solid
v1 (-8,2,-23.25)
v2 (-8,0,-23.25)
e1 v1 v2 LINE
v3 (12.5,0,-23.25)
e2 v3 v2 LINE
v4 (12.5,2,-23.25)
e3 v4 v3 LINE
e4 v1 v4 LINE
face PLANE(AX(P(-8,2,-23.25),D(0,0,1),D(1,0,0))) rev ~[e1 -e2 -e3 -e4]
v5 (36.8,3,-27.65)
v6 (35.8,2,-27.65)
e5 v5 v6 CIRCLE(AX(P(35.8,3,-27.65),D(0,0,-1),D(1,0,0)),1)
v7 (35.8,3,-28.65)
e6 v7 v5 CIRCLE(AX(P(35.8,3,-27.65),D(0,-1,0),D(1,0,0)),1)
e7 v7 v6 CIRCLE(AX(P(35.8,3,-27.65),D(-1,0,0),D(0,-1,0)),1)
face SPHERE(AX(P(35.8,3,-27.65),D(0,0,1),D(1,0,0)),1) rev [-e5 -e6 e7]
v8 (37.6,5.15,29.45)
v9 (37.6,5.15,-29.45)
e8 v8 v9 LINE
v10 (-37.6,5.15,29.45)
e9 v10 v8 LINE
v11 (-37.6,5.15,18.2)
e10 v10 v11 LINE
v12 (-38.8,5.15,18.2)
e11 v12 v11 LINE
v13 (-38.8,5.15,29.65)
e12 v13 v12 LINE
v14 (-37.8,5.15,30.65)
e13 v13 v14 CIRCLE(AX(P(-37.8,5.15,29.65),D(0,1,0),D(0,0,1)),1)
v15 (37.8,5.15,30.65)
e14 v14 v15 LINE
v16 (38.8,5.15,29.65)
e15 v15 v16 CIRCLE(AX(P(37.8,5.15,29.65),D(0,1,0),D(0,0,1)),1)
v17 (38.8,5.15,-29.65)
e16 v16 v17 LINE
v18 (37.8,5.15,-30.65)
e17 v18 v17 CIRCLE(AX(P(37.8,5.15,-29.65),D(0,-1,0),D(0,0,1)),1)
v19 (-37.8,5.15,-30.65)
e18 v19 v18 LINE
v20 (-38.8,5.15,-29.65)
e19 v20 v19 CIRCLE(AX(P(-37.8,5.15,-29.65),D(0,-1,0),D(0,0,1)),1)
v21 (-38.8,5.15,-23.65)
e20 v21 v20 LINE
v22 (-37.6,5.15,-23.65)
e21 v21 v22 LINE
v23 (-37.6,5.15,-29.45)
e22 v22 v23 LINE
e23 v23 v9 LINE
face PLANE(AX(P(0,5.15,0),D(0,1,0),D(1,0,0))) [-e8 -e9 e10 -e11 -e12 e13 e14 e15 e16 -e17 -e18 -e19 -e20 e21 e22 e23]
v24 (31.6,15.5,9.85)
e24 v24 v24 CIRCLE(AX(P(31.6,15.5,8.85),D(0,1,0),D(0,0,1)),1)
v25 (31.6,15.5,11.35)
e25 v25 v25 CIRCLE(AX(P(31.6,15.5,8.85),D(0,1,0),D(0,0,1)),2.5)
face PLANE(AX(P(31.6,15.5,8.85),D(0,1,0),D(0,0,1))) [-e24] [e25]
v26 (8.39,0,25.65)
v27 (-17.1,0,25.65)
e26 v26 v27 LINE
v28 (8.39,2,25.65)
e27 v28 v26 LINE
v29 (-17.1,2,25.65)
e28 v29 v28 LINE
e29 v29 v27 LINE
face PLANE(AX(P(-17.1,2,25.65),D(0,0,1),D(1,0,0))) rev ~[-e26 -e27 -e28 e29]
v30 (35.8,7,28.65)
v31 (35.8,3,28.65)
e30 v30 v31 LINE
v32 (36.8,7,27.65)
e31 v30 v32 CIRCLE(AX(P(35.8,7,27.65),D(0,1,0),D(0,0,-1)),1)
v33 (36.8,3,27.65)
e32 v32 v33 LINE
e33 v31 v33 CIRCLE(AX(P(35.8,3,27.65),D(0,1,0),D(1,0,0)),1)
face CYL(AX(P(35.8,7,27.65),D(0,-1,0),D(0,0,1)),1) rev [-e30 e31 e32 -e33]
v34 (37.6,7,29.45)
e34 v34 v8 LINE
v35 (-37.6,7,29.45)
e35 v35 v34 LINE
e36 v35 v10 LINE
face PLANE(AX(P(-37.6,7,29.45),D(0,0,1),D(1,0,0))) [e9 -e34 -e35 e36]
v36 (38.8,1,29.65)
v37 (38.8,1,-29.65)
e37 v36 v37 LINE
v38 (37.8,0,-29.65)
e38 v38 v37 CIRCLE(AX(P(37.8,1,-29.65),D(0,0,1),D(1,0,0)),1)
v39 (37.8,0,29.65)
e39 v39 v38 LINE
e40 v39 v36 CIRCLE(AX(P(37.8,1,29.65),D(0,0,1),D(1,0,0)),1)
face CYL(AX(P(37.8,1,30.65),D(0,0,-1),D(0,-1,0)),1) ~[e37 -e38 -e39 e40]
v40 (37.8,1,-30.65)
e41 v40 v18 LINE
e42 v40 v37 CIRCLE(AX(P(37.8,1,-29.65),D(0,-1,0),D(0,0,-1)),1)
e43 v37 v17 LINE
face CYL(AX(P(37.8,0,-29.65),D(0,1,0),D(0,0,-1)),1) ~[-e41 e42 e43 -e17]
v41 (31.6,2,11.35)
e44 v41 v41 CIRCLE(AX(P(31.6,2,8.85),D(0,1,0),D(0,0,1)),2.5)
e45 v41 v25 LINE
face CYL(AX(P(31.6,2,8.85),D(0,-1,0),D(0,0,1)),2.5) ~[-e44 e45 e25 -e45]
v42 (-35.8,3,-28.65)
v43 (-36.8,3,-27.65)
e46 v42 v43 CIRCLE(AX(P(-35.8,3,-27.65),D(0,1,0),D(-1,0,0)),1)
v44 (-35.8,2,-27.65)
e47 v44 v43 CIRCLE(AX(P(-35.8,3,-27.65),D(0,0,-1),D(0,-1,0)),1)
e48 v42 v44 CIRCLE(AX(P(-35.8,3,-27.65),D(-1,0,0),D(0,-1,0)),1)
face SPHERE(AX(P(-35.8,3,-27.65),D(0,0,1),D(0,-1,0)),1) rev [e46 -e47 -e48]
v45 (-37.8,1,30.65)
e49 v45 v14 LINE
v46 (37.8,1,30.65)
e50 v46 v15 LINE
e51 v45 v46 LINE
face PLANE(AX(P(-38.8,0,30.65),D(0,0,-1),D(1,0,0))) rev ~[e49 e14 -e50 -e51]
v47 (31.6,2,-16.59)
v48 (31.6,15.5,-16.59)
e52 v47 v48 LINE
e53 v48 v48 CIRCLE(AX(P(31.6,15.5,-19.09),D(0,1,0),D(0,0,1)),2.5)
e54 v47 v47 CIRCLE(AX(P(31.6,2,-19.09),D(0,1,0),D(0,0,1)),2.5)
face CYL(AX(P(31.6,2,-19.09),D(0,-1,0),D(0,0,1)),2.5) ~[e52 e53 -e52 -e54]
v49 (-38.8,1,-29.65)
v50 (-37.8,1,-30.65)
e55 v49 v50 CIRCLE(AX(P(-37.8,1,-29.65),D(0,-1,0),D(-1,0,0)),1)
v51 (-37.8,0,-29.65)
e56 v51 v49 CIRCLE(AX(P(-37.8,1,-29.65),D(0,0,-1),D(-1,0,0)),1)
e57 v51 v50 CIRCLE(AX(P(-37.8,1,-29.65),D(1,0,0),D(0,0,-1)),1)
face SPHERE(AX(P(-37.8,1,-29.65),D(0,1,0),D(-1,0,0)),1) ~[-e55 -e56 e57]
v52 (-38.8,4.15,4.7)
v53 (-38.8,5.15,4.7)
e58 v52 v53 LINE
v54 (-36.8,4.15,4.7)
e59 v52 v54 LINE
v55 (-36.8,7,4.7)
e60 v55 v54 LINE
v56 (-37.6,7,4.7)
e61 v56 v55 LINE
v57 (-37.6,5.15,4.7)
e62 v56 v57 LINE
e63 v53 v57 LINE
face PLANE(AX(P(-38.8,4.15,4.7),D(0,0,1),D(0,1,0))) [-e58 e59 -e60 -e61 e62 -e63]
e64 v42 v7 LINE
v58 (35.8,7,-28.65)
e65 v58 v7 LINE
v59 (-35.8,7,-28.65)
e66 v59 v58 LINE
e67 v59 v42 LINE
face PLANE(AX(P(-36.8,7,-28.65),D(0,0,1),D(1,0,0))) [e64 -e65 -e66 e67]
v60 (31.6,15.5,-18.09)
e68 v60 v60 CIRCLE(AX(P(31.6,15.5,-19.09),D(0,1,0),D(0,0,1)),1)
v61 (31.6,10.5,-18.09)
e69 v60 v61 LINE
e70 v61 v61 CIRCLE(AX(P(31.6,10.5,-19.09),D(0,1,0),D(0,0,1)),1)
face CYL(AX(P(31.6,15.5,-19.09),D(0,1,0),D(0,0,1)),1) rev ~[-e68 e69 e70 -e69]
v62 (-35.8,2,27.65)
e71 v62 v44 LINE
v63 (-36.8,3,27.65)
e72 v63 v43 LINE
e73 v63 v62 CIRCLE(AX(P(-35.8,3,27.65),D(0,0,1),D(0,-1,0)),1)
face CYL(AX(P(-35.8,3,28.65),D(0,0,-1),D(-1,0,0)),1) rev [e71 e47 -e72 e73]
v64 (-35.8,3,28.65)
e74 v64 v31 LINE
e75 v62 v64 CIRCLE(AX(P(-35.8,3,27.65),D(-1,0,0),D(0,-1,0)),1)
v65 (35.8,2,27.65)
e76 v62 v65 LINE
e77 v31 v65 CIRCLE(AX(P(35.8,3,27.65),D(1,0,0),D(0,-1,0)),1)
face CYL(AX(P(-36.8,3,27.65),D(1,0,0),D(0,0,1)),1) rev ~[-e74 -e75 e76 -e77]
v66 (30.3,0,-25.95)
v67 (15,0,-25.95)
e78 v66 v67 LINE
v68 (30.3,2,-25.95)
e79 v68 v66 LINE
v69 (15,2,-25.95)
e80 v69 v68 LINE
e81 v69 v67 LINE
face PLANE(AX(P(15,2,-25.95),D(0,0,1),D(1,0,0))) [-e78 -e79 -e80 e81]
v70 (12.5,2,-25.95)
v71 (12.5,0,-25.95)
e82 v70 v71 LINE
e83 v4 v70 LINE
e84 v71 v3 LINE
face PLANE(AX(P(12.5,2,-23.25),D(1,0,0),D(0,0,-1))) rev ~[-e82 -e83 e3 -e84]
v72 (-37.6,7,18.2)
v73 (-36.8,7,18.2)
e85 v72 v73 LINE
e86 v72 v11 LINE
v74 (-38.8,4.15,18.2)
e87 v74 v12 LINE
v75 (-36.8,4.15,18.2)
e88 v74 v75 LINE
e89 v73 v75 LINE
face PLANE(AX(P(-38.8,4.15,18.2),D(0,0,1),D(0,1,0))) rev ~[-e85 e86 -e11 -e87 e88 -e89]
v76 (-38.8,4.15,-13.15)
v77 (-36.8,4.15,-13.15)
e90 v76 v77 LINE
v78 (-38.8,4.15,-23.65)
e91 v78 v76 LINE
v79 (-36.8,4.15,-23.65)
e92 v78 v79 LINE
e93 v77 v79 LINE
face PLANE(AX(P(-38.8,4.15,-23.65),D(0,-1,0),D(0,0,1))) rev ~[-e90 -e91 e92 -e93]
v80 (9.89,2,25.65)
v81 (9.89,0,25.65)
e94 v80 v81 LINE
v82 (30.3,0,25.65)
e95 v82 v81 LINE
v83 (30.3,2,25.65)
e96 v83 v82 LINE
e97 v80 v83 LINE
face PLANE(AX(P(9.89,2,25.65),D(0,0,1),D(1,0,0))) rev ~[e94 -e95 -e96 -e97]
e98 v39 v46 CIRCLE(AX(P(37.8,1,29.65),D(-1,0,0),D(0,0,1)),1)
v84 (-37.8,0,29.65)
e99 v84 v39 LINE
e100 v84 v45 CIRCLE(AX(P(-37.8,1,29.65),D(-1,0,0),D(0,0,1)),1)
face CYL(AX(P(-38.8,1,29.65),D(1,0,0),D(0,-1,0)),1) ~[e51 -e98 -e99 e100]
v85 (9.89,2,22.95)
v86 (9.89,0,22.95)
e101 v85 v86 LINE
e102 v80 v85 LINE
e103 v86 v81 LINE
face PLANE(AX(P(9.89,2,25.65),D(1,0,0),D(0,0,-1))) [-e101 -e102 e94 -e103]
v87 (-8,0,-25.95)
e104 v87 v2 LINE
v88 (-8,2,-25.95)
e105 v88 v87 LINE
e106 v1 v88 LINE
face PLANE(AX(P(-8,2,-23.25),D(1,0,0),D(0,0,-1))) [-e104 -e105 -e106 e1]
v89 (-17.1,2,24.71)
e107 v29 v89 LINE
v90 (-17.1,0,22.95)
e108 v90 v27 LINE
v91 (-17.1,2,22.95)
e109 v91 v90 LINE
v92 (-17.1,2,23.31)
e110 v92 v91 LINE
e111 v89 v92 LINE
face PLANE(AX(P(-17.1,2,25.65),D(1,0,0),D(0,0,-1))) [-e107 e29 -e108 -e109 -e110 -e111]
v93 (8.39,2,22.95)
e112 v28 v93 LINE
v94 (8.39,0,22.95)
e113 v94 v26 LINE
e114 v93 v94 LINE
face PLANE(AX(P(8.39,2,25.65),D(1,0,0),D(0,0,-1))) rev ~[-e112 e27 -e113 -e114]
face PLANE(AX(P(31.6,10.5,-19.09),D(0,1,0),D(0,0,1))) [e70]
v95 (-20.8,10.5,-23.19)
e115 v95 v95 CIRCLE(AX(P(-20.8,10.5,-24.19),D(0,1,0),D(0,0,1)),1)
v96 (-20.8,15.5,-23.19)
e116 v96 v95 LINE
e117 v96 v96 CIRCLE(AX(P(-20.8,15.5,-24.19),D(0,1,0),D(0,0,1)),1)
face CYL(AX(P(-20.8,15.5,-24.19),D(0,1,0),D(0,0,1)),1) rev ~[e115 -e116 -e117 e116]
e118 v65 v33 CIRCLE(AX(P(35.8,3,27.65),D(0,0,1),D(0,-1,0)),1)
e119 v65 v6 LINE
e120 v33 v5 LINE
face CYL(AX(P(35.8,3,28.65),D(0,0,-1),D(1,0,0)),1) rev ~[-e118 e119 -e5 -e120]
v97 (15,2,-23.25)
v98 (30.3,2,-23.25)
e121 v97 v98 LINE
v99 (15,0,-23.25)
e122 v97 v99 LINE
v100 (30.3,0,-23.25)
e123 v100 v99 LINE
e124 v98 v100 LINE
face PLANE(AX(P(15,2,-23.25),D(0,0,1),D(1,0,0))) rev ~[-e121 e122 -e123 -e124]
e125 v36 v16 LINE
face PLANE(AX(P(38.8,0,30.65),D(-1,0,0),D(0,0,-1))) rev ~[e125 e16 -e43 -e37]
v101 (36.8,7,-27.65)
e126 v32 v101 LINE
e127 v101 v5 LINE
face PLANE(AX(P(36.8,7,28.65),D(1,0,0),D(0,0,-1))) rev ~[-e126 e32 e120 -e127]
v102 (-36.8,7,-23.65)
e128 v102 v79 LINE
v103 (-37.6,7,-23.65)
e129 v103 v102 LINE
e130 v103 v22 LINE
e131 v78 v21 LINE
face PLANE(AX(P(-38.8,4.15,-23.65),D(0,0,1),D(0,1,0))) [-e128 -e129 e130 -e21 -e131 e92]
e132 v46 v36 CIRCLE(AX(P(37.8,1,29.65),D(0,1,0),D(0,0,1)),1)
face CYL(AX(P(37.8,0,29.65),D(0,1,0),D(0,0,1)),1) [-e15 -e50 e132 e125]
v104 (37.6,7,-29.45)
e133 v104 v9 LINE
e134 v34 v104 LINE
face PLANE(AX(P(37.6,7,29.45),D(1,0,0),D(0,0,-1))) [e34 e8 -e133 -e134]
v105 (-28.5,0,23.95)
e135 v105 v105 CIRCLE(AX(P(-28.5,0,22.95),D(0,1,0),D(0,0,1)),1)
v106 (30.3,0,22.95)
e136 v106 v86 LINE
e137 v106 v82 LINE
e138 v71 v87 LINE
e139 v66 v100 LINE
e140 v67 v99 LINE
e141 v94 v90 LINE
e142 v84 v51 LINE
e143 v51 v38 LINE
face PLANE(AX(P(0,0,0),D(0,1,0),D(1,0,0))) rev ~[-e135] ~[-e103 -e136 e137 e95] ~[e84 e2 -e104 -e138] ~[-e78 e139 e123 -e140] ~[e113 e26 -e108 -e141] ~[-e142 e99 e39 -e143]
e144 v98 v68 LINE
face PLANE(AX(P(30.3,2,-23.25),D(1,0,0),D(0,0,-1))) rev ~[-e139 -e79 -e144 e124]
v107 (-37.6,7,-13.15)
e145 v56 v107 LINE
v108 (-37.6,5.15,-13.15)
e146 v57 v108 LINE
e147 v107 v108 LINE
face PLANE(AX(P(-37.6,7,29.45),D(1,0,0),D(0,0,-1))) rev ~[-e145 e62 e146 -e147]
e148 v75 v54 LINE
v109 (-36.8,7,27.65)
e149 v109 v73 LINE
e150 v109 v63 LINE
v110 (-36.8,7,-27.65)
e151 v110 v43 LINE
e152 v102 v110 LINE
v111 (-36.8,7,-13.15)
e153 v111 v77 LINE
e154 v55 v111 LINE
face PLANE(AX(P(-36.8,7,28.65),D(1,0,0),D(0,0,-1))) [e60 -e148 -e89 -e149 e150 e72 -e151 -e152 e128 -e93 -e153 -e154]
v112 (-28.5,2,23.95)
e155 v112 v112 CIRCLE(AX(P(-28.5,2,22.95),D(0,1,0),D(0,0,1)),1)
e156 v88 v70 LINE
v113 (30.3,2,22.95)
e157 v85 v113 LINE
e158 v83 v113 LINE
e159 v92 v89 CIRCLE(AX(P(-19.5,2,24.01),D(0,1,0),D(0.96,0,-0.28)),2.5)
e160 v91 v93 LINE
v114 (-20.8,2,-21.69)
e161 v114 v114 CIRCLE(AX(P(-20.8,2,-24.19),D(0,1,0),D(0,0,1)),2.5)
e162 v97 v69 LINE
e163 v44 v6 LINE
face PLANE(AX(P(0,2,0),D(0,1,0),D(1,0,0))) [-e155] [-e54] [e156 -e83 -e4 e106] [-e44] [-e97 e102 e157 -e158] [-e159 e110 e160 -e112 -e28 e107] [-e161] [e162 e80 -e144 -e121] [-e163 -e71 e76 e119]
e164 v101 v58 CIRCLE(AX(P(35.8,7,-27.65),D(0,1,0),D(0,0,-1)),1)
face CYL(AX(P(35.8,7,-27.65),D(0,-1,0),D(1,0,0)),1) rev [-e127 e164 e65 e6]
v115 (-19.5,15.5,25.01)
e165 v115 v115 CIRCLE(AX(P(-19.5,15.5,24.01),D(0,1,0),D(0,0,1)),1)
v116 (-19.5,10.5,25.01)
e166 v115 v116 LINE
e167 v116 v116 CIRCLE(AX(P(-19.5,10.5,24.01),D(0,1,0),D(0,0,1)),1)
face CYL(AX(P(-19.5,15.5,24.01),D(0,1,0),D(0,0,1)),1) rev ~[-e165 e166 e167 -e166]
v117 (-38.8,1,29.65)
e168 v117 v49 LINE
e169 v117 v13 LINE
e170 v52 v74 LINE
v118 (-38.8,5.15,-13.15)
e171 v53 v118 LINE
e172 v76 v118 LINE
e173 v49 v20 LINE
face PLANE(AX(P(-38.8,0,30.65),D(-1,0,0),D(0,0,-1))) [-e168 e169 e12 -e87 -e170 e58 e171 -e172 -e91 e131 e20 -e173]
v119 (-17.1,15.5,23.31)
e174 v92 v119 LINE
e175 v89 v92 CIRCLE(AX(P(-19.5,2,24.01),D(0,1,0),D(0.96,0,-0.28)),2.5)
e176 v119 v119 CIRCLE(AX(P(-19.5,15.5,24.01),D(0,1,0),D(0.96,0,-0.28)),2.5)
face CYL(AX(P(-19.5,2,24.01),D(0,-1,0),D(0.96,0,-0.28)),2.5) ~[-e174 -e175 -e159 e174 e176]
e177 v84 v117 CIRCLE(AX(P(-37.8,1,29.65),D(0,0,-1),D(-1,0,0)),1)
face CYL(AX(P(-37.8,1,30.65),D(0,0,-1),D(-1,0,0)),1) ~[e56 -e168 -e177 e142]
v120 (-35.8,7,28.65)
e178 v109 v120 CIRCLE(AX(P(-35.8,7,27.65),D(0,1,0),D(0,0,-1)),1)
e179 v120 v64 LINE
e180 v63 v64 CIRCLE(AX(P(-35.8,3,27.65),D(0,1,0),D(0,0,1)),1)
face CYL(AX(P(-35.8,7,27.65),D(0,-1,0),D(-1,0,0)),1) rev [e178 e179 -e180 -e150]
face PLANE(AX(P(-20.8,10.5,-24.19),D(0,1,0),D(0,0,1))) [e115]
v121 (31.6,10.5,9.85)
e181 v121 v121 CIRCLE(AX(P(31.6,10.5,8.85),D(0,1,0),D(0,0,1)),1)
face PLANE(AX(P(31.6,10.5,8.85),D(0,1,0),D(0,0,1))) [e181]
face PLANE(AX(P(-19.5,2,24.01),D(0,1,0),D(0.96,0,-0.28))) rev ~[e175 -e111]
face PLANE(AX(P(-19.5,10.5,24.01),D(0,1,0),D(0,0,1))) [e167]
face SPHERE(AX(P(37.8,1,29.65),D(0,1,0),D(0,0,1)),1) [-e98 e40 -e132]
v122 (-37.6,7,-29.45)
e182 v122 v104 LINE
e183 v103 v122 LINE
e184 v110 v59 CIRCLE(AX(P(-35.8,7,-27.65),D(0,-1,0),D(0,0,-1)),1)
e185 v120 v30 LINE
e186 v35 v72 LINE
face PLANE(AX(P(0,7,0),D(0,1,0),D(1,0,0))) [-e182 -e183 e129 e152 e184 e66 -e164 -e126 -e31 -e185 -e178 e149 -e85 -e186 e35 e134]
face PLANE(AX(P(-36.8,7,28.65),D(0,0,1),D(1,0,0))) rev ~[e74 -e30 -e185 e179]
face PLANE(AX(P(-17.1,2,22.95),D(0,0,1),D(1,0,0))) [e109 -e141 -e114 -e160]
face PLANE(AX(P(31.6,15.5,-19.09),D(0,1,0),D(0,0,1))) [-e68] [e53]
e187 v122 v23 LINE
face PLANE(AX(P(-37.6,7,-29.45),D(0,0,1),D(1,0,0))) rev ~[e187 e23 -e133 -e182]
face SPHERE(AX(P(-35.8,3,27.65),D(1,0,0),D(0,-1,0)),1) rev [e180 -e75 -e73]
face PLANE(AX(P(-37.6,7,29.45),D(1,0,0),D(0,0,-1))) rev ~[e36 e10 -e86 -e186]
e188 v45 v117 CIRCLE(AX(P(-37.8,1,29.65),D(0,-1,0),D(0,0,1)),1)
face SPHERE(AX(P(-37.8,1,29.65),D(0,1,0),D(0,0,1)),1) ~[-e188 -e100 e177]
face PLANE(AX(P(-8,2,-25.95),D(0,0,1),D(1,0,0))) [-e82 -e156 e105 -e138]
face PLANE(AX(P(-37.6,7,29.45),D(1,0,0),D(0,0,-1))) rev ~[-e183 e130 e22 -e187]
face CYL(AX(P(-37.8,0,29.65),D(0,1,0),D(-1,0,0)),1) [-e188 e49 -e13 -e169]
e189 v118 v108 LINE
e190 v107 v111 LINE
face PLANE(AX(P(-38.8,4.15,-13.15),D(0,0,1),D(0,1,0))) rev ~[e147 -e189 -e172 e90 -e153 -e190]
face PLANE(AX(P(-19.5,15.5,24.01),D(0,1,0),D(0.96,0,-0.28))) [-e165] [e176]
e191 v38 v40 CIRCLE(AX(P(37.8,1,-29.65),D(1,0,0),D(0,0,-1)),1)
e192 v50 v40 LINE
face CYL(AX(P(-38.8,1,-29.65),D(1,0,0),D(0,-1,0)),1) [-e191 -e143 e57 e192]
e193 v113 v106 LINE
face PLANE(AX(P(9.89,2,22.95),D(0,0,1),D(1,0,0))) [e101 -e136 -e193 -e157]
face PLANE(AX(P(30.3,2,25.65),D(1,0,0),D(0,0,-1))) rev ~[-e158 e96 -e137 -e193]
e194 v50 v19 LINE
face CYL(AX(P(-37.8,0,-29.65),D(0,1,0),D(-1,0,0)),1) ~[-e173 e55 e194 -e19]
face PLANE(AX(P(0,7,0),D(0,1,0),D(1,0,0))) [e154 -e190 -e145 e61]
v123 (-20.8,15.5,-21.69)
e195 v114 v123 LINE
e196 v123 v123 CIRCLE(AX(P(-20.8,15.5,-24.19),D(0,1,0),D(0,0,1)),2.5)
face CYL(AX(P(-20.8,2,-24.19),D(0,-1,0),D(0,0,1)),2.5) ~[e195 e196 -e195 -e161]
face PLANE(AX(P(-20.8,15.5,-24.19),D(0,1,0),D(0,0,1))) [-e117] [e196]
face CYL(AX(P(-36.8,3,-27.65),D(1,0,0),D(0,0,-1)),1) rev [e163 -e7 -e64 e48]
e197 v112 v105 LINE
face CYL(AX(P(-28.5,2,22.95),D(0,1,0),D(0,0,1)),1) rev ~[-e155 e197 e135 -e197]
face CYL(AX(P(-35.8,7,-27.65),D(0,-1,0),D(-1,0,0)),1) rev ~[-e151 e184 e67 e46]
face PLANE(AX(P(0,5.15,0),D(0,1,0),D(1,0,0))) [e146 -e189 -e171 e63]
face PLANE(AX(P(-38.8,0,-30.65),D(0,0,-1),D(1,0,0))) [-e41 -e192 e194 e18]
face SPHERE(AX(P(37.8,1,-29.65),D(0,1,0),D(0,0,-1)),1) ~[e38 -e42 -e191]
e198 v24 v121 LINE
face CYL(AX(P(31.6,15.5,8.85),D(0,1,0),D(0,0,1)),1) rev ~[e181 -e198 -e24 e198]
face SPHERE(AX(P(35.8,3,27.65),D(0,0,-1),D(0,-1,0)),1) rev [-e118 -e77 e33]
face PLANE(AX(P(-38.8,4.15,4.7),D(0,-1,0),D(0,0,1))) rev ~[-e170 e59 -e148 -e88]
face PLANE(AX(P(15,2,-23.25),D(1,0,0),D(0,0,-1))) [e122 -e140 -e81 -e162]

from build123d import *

# Parameters (mm, degrees)
SKETCH1_W               = 77.6
SKETCH1_H               = 61.3
BOSS_EXTRUDE1_DEPTH     = 7
SKETCH2_W               = 95.2
SKETCH2_H               = 78.9
SKETCH2_W_2             = 75.2
SKETCH2_H_2             = 58.9
CUT_EXTRUDE_THIN1_DEPTH = 1.85
SKETCH3_W               = 73.6
SKETCH3_H               = 57.3
CUT_EXTRUDE1_DEPTH      = 5
SKETCH4_W               = 13.5
SKETCH4_H               = 2.85
SKETCH4_W_2             = 10.5
CUT_EXTRUDE2_DEPTH      = 5
FILLET1_R               = 1
CUT_EXTRUDE3_REACH      = 51.698
SKETCH5_W               = 20.41
SKETCH5_H               = 2.7
SKETCH5_W_2             = 15.3
SKETCH5_W_3             = 20.5
SKETCH5_W_4             = 25.49
SKETCH6_R               = 2.5
BOSS_EXTRUDE2_DEPTH     = 13.5
SKETCH7_R               = 1
CUT_EXTRUDE4_DEPTH      = 5
CUT_EXTRUDE5_REACH      = 53.255
SKETCH8_R               = 1


with BuildPart() as part:
    # Sketch1 → Boss-Extrude1 (new body)
    with BuildSketch(Plane(origin=(0, 0, 0), x_dir=(1, 0, 0), z_dir=(0, 1, 0))):
        Rectangle(SKETCH1_W, SKETCH1_H)
    extrude(amount=BOSS_EXTRUDE1_DEPTH)

    # Sketch2 → Cut-Extrude-Thin1 (cut)
    with BuildSketch(Plane(origin=(0, 7, 0), x_dir=(1, 0, 0), z_dir=(0, 1, 0))):
        Rectangle(SKETCH2_W, SKETCH2_H)
        Rectangle(SKETCH2_W_2, SKETCH2_H_2, mode=Mode.SUBTRACT)
    extrude(amount=-CUT_EXTRUDE_THIN1_DEPTH, mode=Mode.SUBTRACT)

    # Sketch3 → Cut-Extrude1 (cut)
    with BuildSketch(Plane(origin=(0, 7, 0), x_dir=(1, 0, 0), z_dir=(0, 1, 0))):
        Rectangle(SKETCH3_W, SKETCH3_H)
    extrude(amount=-CUT_EXTRUDE1_DEPTH, mode=Mode.SUBTRACT)

    # Sketch4 → Cut-Extrude2 (cut)
    with BuildSketch(Plane.ZY.offset(38.8)):
        with Locations((11.45, 5.575)):
            Rectangle(SKETCH4_W, SKETCH4_H)
        with Locations((-18.4, 5.575)):
            Rectangle(SKETCH4_W_2, SKETCH4_H)
    extrude(amount=-CUT_EXTRUDE2_DEPTH, mode=Mode.SUBTRACT)

    # Fillet1
    fillet1_edges = [part.edges().sort_by_distance(p)[0] for p in [
        (38.8, 2.575, 30.65),
        (-38.8, 2.575, 30.65),
        (-38.8, 2.575, -30.65),
        (38.8, 2.575, -30.65),
        (36.8, 2, 0),
        (36.8, 4.5, -28.65),
        (0, 2, 28.65),
        (36.8, 4.5, 28.65),
        (-36.8, 2, 0),
        (-36.8, 4.5, 28.65),
        (0, 2, -28.65),
        (-36.8, 4.5, -28.65),
        (0, 0, 30.65),
        (-38.8, 0, 0),
        (0, 0, -30.65),
        (38.8, 0, 0),
    ]]
    fillet(fillet1_edges, radius=FILLET1_R)

    # Sketch5 → Cut-Extrude3 (cut, up to next)
    with BuildSketch(Plane(origin=(0, 2, 0), x_dir=(1, 0, 0), z_dir=(0, 1, 0)), mode=Mode.PRIVATE) as cut_extrude3_sk1:
        with Locations((20.095, -24.3)):
            Rectangle(SKETCH5_W, SKETCH5_H)
    cut_extrude3_tool1 = extrude(cut_extrude3_sk1.sketch, amount=-CUT_EXTRUDE3_REACH, mode=Mode.PRIVATE) & part.part
    # Sketch5 → Cut-Extrude3 (cut, up to next)
    with BuildSketch(Plane(origin=(0, 2, 0), x_dir=(1, 0, 0), z_dir=(0, 1, 0)), mode=Mode.PRIVATE) as cut_extrude3_sk2:
        with Locations((22.65, 24.6)):
            Rectangle(SKETCH5_W_2, SKETCH5_H)
    cut_extrude3_tool2 = extrude(cut_extrude3_sk2.sketch, amount=-CUT_EXTRUDE3_REACH, mode=Mode.PRIVATE) & part.part
    # Sketch5 → Cut-Extrude3 (cut, up to next)
    with BuildSketch(Plane(origin=(0, 2, 0), x_dir=(1, 0, 0), z_dir=(0, 1, 0)), mode=Mode.PRIVATE) as cut_extrude3_sk3:
        with Locations((2.25, 24.6)):
            Rectangle(SKETCH5_W_3, SKETCH5_H)
    cut_extrude3_tool3 = extrude(cut_extrude3_sk3.sketch, amount=-CUT_EXTRUDE3_REACH, mode=Mode.PRIVATE) & part.part
    # Sketch5 → Cut-Extrude3 (cut, up to next)
    with BuildSketch(Plane(origin=(0, 2, 0), x_dir=(1, 0, 0), z_dir=(0, 1, 0)), mode=Mode.PRIVATE) as cut_extrude3_sk4:
        with Locations((-4.355, -24.3)):
            Rectangle(SKETCH5_W_4, SKETCH5_H)
    cut_extrude3_tool4 = extrude(cut_extrude3_sk4.sketch, amount=-CUT_EXTRUDE3_REACH, mode=Mode.PRIVATE) & part.part
    add(cut_extrude3_tool1.solids().sort_by_distance((20.095, 2, 24.3))[0], mode=Mode.SUBTRACT)
    add(cut_extrude3_tool2.solids().sort_by_distance((22.65, 2, -24.6))[0], mode=Mode.SUBTRACT)
    add(cut_extrude3_tool3.solids().sort_by_distance((2.25, 2, -24.6))[0], mode=Mode.SUBTRACT)
    add(cut_extrude3_tool4.solids().sort_by_distance((-4.355, 2, 24.3))[0], mode=Mode.SUBTRACT)

    # Sketch6 → Boss-Extrude2 (add)
    with BuildSketch(Plane(origin=(0, 2, 0), x_dir=(1, 0, 0), z_dir=(0, 1, 0))):
        with Locations(Location((31.6, 19.09, 0), (0, 0, 270))):
            Circle(SKETCH6_R)
        with Locations(Location((31.6, -8.85, 0), (0, 0, 270))):
            Circle(SKETCH6_R)
        with Locations(Location((-19.5, -24.01, 0), (0, 0, 16.260204708))):
            Circle(SKETCH6_R)
        with Locations(Location((-20.8, 24.19, 0), (0, 0, 270))):
            Circle(SKETCH6_R)
    extrude(amount=BOSS_EXTRUDE2_DEPTH)

    # Sketch7 → Cut-Extrude4 (cut)
    with BuildSketch(Plane(origin=(0, 15.5, 0), x_dir=(1, 0, 0), z_dir=(0, 1, 0))):
        with Locations(Location((31.6, 19.09, 0), (0, 0, 270))):
            Circle(SKETCH7_R)
        with Locations(Location((31.6, -8.85, 0), (0, 0, 270))):
            Circle(SKETCH7_R)
        with Locations(Location((-20.8, 24.19, 0), (0, 0, 270))):
            Circle(SKETCH7_R)
        with Locations(Location((-19.5, -24.01, 0), (0, 0, 270))):
            Circle(SKETCH7_R)
    extrude(amount=-CUT_EXTRUDE4_DEPTH, mode=Mode.SUBTRACT)

    # Sketch8 → Cut-Extrude5 (cut, up to next)
    with BuildSketch(Plane(origin=(0, 2, 0), x_dir=(1, 0, 0), z_dir=(0, 1, 0)), mode=Mode.PRIVATE) as cut_extrude5_sk1:
        with Locations(Location((-28.5, -22.95, 0), (0, 0, 270))):
            Circle(SKETCH8_R)
    cut_extrude5_tool1 = extrude(cut_extrude5_sk1.sketch, amount=-CUT_EXTRUDE5_REACH, mode=Mode.PRIVATE) & part.part
    add(cut_extrude5_tool1.solids().sort_by_distance((-28.5, 2, 22.95))[0], mode=Mode.SUBTRACT)


solid = part.part
